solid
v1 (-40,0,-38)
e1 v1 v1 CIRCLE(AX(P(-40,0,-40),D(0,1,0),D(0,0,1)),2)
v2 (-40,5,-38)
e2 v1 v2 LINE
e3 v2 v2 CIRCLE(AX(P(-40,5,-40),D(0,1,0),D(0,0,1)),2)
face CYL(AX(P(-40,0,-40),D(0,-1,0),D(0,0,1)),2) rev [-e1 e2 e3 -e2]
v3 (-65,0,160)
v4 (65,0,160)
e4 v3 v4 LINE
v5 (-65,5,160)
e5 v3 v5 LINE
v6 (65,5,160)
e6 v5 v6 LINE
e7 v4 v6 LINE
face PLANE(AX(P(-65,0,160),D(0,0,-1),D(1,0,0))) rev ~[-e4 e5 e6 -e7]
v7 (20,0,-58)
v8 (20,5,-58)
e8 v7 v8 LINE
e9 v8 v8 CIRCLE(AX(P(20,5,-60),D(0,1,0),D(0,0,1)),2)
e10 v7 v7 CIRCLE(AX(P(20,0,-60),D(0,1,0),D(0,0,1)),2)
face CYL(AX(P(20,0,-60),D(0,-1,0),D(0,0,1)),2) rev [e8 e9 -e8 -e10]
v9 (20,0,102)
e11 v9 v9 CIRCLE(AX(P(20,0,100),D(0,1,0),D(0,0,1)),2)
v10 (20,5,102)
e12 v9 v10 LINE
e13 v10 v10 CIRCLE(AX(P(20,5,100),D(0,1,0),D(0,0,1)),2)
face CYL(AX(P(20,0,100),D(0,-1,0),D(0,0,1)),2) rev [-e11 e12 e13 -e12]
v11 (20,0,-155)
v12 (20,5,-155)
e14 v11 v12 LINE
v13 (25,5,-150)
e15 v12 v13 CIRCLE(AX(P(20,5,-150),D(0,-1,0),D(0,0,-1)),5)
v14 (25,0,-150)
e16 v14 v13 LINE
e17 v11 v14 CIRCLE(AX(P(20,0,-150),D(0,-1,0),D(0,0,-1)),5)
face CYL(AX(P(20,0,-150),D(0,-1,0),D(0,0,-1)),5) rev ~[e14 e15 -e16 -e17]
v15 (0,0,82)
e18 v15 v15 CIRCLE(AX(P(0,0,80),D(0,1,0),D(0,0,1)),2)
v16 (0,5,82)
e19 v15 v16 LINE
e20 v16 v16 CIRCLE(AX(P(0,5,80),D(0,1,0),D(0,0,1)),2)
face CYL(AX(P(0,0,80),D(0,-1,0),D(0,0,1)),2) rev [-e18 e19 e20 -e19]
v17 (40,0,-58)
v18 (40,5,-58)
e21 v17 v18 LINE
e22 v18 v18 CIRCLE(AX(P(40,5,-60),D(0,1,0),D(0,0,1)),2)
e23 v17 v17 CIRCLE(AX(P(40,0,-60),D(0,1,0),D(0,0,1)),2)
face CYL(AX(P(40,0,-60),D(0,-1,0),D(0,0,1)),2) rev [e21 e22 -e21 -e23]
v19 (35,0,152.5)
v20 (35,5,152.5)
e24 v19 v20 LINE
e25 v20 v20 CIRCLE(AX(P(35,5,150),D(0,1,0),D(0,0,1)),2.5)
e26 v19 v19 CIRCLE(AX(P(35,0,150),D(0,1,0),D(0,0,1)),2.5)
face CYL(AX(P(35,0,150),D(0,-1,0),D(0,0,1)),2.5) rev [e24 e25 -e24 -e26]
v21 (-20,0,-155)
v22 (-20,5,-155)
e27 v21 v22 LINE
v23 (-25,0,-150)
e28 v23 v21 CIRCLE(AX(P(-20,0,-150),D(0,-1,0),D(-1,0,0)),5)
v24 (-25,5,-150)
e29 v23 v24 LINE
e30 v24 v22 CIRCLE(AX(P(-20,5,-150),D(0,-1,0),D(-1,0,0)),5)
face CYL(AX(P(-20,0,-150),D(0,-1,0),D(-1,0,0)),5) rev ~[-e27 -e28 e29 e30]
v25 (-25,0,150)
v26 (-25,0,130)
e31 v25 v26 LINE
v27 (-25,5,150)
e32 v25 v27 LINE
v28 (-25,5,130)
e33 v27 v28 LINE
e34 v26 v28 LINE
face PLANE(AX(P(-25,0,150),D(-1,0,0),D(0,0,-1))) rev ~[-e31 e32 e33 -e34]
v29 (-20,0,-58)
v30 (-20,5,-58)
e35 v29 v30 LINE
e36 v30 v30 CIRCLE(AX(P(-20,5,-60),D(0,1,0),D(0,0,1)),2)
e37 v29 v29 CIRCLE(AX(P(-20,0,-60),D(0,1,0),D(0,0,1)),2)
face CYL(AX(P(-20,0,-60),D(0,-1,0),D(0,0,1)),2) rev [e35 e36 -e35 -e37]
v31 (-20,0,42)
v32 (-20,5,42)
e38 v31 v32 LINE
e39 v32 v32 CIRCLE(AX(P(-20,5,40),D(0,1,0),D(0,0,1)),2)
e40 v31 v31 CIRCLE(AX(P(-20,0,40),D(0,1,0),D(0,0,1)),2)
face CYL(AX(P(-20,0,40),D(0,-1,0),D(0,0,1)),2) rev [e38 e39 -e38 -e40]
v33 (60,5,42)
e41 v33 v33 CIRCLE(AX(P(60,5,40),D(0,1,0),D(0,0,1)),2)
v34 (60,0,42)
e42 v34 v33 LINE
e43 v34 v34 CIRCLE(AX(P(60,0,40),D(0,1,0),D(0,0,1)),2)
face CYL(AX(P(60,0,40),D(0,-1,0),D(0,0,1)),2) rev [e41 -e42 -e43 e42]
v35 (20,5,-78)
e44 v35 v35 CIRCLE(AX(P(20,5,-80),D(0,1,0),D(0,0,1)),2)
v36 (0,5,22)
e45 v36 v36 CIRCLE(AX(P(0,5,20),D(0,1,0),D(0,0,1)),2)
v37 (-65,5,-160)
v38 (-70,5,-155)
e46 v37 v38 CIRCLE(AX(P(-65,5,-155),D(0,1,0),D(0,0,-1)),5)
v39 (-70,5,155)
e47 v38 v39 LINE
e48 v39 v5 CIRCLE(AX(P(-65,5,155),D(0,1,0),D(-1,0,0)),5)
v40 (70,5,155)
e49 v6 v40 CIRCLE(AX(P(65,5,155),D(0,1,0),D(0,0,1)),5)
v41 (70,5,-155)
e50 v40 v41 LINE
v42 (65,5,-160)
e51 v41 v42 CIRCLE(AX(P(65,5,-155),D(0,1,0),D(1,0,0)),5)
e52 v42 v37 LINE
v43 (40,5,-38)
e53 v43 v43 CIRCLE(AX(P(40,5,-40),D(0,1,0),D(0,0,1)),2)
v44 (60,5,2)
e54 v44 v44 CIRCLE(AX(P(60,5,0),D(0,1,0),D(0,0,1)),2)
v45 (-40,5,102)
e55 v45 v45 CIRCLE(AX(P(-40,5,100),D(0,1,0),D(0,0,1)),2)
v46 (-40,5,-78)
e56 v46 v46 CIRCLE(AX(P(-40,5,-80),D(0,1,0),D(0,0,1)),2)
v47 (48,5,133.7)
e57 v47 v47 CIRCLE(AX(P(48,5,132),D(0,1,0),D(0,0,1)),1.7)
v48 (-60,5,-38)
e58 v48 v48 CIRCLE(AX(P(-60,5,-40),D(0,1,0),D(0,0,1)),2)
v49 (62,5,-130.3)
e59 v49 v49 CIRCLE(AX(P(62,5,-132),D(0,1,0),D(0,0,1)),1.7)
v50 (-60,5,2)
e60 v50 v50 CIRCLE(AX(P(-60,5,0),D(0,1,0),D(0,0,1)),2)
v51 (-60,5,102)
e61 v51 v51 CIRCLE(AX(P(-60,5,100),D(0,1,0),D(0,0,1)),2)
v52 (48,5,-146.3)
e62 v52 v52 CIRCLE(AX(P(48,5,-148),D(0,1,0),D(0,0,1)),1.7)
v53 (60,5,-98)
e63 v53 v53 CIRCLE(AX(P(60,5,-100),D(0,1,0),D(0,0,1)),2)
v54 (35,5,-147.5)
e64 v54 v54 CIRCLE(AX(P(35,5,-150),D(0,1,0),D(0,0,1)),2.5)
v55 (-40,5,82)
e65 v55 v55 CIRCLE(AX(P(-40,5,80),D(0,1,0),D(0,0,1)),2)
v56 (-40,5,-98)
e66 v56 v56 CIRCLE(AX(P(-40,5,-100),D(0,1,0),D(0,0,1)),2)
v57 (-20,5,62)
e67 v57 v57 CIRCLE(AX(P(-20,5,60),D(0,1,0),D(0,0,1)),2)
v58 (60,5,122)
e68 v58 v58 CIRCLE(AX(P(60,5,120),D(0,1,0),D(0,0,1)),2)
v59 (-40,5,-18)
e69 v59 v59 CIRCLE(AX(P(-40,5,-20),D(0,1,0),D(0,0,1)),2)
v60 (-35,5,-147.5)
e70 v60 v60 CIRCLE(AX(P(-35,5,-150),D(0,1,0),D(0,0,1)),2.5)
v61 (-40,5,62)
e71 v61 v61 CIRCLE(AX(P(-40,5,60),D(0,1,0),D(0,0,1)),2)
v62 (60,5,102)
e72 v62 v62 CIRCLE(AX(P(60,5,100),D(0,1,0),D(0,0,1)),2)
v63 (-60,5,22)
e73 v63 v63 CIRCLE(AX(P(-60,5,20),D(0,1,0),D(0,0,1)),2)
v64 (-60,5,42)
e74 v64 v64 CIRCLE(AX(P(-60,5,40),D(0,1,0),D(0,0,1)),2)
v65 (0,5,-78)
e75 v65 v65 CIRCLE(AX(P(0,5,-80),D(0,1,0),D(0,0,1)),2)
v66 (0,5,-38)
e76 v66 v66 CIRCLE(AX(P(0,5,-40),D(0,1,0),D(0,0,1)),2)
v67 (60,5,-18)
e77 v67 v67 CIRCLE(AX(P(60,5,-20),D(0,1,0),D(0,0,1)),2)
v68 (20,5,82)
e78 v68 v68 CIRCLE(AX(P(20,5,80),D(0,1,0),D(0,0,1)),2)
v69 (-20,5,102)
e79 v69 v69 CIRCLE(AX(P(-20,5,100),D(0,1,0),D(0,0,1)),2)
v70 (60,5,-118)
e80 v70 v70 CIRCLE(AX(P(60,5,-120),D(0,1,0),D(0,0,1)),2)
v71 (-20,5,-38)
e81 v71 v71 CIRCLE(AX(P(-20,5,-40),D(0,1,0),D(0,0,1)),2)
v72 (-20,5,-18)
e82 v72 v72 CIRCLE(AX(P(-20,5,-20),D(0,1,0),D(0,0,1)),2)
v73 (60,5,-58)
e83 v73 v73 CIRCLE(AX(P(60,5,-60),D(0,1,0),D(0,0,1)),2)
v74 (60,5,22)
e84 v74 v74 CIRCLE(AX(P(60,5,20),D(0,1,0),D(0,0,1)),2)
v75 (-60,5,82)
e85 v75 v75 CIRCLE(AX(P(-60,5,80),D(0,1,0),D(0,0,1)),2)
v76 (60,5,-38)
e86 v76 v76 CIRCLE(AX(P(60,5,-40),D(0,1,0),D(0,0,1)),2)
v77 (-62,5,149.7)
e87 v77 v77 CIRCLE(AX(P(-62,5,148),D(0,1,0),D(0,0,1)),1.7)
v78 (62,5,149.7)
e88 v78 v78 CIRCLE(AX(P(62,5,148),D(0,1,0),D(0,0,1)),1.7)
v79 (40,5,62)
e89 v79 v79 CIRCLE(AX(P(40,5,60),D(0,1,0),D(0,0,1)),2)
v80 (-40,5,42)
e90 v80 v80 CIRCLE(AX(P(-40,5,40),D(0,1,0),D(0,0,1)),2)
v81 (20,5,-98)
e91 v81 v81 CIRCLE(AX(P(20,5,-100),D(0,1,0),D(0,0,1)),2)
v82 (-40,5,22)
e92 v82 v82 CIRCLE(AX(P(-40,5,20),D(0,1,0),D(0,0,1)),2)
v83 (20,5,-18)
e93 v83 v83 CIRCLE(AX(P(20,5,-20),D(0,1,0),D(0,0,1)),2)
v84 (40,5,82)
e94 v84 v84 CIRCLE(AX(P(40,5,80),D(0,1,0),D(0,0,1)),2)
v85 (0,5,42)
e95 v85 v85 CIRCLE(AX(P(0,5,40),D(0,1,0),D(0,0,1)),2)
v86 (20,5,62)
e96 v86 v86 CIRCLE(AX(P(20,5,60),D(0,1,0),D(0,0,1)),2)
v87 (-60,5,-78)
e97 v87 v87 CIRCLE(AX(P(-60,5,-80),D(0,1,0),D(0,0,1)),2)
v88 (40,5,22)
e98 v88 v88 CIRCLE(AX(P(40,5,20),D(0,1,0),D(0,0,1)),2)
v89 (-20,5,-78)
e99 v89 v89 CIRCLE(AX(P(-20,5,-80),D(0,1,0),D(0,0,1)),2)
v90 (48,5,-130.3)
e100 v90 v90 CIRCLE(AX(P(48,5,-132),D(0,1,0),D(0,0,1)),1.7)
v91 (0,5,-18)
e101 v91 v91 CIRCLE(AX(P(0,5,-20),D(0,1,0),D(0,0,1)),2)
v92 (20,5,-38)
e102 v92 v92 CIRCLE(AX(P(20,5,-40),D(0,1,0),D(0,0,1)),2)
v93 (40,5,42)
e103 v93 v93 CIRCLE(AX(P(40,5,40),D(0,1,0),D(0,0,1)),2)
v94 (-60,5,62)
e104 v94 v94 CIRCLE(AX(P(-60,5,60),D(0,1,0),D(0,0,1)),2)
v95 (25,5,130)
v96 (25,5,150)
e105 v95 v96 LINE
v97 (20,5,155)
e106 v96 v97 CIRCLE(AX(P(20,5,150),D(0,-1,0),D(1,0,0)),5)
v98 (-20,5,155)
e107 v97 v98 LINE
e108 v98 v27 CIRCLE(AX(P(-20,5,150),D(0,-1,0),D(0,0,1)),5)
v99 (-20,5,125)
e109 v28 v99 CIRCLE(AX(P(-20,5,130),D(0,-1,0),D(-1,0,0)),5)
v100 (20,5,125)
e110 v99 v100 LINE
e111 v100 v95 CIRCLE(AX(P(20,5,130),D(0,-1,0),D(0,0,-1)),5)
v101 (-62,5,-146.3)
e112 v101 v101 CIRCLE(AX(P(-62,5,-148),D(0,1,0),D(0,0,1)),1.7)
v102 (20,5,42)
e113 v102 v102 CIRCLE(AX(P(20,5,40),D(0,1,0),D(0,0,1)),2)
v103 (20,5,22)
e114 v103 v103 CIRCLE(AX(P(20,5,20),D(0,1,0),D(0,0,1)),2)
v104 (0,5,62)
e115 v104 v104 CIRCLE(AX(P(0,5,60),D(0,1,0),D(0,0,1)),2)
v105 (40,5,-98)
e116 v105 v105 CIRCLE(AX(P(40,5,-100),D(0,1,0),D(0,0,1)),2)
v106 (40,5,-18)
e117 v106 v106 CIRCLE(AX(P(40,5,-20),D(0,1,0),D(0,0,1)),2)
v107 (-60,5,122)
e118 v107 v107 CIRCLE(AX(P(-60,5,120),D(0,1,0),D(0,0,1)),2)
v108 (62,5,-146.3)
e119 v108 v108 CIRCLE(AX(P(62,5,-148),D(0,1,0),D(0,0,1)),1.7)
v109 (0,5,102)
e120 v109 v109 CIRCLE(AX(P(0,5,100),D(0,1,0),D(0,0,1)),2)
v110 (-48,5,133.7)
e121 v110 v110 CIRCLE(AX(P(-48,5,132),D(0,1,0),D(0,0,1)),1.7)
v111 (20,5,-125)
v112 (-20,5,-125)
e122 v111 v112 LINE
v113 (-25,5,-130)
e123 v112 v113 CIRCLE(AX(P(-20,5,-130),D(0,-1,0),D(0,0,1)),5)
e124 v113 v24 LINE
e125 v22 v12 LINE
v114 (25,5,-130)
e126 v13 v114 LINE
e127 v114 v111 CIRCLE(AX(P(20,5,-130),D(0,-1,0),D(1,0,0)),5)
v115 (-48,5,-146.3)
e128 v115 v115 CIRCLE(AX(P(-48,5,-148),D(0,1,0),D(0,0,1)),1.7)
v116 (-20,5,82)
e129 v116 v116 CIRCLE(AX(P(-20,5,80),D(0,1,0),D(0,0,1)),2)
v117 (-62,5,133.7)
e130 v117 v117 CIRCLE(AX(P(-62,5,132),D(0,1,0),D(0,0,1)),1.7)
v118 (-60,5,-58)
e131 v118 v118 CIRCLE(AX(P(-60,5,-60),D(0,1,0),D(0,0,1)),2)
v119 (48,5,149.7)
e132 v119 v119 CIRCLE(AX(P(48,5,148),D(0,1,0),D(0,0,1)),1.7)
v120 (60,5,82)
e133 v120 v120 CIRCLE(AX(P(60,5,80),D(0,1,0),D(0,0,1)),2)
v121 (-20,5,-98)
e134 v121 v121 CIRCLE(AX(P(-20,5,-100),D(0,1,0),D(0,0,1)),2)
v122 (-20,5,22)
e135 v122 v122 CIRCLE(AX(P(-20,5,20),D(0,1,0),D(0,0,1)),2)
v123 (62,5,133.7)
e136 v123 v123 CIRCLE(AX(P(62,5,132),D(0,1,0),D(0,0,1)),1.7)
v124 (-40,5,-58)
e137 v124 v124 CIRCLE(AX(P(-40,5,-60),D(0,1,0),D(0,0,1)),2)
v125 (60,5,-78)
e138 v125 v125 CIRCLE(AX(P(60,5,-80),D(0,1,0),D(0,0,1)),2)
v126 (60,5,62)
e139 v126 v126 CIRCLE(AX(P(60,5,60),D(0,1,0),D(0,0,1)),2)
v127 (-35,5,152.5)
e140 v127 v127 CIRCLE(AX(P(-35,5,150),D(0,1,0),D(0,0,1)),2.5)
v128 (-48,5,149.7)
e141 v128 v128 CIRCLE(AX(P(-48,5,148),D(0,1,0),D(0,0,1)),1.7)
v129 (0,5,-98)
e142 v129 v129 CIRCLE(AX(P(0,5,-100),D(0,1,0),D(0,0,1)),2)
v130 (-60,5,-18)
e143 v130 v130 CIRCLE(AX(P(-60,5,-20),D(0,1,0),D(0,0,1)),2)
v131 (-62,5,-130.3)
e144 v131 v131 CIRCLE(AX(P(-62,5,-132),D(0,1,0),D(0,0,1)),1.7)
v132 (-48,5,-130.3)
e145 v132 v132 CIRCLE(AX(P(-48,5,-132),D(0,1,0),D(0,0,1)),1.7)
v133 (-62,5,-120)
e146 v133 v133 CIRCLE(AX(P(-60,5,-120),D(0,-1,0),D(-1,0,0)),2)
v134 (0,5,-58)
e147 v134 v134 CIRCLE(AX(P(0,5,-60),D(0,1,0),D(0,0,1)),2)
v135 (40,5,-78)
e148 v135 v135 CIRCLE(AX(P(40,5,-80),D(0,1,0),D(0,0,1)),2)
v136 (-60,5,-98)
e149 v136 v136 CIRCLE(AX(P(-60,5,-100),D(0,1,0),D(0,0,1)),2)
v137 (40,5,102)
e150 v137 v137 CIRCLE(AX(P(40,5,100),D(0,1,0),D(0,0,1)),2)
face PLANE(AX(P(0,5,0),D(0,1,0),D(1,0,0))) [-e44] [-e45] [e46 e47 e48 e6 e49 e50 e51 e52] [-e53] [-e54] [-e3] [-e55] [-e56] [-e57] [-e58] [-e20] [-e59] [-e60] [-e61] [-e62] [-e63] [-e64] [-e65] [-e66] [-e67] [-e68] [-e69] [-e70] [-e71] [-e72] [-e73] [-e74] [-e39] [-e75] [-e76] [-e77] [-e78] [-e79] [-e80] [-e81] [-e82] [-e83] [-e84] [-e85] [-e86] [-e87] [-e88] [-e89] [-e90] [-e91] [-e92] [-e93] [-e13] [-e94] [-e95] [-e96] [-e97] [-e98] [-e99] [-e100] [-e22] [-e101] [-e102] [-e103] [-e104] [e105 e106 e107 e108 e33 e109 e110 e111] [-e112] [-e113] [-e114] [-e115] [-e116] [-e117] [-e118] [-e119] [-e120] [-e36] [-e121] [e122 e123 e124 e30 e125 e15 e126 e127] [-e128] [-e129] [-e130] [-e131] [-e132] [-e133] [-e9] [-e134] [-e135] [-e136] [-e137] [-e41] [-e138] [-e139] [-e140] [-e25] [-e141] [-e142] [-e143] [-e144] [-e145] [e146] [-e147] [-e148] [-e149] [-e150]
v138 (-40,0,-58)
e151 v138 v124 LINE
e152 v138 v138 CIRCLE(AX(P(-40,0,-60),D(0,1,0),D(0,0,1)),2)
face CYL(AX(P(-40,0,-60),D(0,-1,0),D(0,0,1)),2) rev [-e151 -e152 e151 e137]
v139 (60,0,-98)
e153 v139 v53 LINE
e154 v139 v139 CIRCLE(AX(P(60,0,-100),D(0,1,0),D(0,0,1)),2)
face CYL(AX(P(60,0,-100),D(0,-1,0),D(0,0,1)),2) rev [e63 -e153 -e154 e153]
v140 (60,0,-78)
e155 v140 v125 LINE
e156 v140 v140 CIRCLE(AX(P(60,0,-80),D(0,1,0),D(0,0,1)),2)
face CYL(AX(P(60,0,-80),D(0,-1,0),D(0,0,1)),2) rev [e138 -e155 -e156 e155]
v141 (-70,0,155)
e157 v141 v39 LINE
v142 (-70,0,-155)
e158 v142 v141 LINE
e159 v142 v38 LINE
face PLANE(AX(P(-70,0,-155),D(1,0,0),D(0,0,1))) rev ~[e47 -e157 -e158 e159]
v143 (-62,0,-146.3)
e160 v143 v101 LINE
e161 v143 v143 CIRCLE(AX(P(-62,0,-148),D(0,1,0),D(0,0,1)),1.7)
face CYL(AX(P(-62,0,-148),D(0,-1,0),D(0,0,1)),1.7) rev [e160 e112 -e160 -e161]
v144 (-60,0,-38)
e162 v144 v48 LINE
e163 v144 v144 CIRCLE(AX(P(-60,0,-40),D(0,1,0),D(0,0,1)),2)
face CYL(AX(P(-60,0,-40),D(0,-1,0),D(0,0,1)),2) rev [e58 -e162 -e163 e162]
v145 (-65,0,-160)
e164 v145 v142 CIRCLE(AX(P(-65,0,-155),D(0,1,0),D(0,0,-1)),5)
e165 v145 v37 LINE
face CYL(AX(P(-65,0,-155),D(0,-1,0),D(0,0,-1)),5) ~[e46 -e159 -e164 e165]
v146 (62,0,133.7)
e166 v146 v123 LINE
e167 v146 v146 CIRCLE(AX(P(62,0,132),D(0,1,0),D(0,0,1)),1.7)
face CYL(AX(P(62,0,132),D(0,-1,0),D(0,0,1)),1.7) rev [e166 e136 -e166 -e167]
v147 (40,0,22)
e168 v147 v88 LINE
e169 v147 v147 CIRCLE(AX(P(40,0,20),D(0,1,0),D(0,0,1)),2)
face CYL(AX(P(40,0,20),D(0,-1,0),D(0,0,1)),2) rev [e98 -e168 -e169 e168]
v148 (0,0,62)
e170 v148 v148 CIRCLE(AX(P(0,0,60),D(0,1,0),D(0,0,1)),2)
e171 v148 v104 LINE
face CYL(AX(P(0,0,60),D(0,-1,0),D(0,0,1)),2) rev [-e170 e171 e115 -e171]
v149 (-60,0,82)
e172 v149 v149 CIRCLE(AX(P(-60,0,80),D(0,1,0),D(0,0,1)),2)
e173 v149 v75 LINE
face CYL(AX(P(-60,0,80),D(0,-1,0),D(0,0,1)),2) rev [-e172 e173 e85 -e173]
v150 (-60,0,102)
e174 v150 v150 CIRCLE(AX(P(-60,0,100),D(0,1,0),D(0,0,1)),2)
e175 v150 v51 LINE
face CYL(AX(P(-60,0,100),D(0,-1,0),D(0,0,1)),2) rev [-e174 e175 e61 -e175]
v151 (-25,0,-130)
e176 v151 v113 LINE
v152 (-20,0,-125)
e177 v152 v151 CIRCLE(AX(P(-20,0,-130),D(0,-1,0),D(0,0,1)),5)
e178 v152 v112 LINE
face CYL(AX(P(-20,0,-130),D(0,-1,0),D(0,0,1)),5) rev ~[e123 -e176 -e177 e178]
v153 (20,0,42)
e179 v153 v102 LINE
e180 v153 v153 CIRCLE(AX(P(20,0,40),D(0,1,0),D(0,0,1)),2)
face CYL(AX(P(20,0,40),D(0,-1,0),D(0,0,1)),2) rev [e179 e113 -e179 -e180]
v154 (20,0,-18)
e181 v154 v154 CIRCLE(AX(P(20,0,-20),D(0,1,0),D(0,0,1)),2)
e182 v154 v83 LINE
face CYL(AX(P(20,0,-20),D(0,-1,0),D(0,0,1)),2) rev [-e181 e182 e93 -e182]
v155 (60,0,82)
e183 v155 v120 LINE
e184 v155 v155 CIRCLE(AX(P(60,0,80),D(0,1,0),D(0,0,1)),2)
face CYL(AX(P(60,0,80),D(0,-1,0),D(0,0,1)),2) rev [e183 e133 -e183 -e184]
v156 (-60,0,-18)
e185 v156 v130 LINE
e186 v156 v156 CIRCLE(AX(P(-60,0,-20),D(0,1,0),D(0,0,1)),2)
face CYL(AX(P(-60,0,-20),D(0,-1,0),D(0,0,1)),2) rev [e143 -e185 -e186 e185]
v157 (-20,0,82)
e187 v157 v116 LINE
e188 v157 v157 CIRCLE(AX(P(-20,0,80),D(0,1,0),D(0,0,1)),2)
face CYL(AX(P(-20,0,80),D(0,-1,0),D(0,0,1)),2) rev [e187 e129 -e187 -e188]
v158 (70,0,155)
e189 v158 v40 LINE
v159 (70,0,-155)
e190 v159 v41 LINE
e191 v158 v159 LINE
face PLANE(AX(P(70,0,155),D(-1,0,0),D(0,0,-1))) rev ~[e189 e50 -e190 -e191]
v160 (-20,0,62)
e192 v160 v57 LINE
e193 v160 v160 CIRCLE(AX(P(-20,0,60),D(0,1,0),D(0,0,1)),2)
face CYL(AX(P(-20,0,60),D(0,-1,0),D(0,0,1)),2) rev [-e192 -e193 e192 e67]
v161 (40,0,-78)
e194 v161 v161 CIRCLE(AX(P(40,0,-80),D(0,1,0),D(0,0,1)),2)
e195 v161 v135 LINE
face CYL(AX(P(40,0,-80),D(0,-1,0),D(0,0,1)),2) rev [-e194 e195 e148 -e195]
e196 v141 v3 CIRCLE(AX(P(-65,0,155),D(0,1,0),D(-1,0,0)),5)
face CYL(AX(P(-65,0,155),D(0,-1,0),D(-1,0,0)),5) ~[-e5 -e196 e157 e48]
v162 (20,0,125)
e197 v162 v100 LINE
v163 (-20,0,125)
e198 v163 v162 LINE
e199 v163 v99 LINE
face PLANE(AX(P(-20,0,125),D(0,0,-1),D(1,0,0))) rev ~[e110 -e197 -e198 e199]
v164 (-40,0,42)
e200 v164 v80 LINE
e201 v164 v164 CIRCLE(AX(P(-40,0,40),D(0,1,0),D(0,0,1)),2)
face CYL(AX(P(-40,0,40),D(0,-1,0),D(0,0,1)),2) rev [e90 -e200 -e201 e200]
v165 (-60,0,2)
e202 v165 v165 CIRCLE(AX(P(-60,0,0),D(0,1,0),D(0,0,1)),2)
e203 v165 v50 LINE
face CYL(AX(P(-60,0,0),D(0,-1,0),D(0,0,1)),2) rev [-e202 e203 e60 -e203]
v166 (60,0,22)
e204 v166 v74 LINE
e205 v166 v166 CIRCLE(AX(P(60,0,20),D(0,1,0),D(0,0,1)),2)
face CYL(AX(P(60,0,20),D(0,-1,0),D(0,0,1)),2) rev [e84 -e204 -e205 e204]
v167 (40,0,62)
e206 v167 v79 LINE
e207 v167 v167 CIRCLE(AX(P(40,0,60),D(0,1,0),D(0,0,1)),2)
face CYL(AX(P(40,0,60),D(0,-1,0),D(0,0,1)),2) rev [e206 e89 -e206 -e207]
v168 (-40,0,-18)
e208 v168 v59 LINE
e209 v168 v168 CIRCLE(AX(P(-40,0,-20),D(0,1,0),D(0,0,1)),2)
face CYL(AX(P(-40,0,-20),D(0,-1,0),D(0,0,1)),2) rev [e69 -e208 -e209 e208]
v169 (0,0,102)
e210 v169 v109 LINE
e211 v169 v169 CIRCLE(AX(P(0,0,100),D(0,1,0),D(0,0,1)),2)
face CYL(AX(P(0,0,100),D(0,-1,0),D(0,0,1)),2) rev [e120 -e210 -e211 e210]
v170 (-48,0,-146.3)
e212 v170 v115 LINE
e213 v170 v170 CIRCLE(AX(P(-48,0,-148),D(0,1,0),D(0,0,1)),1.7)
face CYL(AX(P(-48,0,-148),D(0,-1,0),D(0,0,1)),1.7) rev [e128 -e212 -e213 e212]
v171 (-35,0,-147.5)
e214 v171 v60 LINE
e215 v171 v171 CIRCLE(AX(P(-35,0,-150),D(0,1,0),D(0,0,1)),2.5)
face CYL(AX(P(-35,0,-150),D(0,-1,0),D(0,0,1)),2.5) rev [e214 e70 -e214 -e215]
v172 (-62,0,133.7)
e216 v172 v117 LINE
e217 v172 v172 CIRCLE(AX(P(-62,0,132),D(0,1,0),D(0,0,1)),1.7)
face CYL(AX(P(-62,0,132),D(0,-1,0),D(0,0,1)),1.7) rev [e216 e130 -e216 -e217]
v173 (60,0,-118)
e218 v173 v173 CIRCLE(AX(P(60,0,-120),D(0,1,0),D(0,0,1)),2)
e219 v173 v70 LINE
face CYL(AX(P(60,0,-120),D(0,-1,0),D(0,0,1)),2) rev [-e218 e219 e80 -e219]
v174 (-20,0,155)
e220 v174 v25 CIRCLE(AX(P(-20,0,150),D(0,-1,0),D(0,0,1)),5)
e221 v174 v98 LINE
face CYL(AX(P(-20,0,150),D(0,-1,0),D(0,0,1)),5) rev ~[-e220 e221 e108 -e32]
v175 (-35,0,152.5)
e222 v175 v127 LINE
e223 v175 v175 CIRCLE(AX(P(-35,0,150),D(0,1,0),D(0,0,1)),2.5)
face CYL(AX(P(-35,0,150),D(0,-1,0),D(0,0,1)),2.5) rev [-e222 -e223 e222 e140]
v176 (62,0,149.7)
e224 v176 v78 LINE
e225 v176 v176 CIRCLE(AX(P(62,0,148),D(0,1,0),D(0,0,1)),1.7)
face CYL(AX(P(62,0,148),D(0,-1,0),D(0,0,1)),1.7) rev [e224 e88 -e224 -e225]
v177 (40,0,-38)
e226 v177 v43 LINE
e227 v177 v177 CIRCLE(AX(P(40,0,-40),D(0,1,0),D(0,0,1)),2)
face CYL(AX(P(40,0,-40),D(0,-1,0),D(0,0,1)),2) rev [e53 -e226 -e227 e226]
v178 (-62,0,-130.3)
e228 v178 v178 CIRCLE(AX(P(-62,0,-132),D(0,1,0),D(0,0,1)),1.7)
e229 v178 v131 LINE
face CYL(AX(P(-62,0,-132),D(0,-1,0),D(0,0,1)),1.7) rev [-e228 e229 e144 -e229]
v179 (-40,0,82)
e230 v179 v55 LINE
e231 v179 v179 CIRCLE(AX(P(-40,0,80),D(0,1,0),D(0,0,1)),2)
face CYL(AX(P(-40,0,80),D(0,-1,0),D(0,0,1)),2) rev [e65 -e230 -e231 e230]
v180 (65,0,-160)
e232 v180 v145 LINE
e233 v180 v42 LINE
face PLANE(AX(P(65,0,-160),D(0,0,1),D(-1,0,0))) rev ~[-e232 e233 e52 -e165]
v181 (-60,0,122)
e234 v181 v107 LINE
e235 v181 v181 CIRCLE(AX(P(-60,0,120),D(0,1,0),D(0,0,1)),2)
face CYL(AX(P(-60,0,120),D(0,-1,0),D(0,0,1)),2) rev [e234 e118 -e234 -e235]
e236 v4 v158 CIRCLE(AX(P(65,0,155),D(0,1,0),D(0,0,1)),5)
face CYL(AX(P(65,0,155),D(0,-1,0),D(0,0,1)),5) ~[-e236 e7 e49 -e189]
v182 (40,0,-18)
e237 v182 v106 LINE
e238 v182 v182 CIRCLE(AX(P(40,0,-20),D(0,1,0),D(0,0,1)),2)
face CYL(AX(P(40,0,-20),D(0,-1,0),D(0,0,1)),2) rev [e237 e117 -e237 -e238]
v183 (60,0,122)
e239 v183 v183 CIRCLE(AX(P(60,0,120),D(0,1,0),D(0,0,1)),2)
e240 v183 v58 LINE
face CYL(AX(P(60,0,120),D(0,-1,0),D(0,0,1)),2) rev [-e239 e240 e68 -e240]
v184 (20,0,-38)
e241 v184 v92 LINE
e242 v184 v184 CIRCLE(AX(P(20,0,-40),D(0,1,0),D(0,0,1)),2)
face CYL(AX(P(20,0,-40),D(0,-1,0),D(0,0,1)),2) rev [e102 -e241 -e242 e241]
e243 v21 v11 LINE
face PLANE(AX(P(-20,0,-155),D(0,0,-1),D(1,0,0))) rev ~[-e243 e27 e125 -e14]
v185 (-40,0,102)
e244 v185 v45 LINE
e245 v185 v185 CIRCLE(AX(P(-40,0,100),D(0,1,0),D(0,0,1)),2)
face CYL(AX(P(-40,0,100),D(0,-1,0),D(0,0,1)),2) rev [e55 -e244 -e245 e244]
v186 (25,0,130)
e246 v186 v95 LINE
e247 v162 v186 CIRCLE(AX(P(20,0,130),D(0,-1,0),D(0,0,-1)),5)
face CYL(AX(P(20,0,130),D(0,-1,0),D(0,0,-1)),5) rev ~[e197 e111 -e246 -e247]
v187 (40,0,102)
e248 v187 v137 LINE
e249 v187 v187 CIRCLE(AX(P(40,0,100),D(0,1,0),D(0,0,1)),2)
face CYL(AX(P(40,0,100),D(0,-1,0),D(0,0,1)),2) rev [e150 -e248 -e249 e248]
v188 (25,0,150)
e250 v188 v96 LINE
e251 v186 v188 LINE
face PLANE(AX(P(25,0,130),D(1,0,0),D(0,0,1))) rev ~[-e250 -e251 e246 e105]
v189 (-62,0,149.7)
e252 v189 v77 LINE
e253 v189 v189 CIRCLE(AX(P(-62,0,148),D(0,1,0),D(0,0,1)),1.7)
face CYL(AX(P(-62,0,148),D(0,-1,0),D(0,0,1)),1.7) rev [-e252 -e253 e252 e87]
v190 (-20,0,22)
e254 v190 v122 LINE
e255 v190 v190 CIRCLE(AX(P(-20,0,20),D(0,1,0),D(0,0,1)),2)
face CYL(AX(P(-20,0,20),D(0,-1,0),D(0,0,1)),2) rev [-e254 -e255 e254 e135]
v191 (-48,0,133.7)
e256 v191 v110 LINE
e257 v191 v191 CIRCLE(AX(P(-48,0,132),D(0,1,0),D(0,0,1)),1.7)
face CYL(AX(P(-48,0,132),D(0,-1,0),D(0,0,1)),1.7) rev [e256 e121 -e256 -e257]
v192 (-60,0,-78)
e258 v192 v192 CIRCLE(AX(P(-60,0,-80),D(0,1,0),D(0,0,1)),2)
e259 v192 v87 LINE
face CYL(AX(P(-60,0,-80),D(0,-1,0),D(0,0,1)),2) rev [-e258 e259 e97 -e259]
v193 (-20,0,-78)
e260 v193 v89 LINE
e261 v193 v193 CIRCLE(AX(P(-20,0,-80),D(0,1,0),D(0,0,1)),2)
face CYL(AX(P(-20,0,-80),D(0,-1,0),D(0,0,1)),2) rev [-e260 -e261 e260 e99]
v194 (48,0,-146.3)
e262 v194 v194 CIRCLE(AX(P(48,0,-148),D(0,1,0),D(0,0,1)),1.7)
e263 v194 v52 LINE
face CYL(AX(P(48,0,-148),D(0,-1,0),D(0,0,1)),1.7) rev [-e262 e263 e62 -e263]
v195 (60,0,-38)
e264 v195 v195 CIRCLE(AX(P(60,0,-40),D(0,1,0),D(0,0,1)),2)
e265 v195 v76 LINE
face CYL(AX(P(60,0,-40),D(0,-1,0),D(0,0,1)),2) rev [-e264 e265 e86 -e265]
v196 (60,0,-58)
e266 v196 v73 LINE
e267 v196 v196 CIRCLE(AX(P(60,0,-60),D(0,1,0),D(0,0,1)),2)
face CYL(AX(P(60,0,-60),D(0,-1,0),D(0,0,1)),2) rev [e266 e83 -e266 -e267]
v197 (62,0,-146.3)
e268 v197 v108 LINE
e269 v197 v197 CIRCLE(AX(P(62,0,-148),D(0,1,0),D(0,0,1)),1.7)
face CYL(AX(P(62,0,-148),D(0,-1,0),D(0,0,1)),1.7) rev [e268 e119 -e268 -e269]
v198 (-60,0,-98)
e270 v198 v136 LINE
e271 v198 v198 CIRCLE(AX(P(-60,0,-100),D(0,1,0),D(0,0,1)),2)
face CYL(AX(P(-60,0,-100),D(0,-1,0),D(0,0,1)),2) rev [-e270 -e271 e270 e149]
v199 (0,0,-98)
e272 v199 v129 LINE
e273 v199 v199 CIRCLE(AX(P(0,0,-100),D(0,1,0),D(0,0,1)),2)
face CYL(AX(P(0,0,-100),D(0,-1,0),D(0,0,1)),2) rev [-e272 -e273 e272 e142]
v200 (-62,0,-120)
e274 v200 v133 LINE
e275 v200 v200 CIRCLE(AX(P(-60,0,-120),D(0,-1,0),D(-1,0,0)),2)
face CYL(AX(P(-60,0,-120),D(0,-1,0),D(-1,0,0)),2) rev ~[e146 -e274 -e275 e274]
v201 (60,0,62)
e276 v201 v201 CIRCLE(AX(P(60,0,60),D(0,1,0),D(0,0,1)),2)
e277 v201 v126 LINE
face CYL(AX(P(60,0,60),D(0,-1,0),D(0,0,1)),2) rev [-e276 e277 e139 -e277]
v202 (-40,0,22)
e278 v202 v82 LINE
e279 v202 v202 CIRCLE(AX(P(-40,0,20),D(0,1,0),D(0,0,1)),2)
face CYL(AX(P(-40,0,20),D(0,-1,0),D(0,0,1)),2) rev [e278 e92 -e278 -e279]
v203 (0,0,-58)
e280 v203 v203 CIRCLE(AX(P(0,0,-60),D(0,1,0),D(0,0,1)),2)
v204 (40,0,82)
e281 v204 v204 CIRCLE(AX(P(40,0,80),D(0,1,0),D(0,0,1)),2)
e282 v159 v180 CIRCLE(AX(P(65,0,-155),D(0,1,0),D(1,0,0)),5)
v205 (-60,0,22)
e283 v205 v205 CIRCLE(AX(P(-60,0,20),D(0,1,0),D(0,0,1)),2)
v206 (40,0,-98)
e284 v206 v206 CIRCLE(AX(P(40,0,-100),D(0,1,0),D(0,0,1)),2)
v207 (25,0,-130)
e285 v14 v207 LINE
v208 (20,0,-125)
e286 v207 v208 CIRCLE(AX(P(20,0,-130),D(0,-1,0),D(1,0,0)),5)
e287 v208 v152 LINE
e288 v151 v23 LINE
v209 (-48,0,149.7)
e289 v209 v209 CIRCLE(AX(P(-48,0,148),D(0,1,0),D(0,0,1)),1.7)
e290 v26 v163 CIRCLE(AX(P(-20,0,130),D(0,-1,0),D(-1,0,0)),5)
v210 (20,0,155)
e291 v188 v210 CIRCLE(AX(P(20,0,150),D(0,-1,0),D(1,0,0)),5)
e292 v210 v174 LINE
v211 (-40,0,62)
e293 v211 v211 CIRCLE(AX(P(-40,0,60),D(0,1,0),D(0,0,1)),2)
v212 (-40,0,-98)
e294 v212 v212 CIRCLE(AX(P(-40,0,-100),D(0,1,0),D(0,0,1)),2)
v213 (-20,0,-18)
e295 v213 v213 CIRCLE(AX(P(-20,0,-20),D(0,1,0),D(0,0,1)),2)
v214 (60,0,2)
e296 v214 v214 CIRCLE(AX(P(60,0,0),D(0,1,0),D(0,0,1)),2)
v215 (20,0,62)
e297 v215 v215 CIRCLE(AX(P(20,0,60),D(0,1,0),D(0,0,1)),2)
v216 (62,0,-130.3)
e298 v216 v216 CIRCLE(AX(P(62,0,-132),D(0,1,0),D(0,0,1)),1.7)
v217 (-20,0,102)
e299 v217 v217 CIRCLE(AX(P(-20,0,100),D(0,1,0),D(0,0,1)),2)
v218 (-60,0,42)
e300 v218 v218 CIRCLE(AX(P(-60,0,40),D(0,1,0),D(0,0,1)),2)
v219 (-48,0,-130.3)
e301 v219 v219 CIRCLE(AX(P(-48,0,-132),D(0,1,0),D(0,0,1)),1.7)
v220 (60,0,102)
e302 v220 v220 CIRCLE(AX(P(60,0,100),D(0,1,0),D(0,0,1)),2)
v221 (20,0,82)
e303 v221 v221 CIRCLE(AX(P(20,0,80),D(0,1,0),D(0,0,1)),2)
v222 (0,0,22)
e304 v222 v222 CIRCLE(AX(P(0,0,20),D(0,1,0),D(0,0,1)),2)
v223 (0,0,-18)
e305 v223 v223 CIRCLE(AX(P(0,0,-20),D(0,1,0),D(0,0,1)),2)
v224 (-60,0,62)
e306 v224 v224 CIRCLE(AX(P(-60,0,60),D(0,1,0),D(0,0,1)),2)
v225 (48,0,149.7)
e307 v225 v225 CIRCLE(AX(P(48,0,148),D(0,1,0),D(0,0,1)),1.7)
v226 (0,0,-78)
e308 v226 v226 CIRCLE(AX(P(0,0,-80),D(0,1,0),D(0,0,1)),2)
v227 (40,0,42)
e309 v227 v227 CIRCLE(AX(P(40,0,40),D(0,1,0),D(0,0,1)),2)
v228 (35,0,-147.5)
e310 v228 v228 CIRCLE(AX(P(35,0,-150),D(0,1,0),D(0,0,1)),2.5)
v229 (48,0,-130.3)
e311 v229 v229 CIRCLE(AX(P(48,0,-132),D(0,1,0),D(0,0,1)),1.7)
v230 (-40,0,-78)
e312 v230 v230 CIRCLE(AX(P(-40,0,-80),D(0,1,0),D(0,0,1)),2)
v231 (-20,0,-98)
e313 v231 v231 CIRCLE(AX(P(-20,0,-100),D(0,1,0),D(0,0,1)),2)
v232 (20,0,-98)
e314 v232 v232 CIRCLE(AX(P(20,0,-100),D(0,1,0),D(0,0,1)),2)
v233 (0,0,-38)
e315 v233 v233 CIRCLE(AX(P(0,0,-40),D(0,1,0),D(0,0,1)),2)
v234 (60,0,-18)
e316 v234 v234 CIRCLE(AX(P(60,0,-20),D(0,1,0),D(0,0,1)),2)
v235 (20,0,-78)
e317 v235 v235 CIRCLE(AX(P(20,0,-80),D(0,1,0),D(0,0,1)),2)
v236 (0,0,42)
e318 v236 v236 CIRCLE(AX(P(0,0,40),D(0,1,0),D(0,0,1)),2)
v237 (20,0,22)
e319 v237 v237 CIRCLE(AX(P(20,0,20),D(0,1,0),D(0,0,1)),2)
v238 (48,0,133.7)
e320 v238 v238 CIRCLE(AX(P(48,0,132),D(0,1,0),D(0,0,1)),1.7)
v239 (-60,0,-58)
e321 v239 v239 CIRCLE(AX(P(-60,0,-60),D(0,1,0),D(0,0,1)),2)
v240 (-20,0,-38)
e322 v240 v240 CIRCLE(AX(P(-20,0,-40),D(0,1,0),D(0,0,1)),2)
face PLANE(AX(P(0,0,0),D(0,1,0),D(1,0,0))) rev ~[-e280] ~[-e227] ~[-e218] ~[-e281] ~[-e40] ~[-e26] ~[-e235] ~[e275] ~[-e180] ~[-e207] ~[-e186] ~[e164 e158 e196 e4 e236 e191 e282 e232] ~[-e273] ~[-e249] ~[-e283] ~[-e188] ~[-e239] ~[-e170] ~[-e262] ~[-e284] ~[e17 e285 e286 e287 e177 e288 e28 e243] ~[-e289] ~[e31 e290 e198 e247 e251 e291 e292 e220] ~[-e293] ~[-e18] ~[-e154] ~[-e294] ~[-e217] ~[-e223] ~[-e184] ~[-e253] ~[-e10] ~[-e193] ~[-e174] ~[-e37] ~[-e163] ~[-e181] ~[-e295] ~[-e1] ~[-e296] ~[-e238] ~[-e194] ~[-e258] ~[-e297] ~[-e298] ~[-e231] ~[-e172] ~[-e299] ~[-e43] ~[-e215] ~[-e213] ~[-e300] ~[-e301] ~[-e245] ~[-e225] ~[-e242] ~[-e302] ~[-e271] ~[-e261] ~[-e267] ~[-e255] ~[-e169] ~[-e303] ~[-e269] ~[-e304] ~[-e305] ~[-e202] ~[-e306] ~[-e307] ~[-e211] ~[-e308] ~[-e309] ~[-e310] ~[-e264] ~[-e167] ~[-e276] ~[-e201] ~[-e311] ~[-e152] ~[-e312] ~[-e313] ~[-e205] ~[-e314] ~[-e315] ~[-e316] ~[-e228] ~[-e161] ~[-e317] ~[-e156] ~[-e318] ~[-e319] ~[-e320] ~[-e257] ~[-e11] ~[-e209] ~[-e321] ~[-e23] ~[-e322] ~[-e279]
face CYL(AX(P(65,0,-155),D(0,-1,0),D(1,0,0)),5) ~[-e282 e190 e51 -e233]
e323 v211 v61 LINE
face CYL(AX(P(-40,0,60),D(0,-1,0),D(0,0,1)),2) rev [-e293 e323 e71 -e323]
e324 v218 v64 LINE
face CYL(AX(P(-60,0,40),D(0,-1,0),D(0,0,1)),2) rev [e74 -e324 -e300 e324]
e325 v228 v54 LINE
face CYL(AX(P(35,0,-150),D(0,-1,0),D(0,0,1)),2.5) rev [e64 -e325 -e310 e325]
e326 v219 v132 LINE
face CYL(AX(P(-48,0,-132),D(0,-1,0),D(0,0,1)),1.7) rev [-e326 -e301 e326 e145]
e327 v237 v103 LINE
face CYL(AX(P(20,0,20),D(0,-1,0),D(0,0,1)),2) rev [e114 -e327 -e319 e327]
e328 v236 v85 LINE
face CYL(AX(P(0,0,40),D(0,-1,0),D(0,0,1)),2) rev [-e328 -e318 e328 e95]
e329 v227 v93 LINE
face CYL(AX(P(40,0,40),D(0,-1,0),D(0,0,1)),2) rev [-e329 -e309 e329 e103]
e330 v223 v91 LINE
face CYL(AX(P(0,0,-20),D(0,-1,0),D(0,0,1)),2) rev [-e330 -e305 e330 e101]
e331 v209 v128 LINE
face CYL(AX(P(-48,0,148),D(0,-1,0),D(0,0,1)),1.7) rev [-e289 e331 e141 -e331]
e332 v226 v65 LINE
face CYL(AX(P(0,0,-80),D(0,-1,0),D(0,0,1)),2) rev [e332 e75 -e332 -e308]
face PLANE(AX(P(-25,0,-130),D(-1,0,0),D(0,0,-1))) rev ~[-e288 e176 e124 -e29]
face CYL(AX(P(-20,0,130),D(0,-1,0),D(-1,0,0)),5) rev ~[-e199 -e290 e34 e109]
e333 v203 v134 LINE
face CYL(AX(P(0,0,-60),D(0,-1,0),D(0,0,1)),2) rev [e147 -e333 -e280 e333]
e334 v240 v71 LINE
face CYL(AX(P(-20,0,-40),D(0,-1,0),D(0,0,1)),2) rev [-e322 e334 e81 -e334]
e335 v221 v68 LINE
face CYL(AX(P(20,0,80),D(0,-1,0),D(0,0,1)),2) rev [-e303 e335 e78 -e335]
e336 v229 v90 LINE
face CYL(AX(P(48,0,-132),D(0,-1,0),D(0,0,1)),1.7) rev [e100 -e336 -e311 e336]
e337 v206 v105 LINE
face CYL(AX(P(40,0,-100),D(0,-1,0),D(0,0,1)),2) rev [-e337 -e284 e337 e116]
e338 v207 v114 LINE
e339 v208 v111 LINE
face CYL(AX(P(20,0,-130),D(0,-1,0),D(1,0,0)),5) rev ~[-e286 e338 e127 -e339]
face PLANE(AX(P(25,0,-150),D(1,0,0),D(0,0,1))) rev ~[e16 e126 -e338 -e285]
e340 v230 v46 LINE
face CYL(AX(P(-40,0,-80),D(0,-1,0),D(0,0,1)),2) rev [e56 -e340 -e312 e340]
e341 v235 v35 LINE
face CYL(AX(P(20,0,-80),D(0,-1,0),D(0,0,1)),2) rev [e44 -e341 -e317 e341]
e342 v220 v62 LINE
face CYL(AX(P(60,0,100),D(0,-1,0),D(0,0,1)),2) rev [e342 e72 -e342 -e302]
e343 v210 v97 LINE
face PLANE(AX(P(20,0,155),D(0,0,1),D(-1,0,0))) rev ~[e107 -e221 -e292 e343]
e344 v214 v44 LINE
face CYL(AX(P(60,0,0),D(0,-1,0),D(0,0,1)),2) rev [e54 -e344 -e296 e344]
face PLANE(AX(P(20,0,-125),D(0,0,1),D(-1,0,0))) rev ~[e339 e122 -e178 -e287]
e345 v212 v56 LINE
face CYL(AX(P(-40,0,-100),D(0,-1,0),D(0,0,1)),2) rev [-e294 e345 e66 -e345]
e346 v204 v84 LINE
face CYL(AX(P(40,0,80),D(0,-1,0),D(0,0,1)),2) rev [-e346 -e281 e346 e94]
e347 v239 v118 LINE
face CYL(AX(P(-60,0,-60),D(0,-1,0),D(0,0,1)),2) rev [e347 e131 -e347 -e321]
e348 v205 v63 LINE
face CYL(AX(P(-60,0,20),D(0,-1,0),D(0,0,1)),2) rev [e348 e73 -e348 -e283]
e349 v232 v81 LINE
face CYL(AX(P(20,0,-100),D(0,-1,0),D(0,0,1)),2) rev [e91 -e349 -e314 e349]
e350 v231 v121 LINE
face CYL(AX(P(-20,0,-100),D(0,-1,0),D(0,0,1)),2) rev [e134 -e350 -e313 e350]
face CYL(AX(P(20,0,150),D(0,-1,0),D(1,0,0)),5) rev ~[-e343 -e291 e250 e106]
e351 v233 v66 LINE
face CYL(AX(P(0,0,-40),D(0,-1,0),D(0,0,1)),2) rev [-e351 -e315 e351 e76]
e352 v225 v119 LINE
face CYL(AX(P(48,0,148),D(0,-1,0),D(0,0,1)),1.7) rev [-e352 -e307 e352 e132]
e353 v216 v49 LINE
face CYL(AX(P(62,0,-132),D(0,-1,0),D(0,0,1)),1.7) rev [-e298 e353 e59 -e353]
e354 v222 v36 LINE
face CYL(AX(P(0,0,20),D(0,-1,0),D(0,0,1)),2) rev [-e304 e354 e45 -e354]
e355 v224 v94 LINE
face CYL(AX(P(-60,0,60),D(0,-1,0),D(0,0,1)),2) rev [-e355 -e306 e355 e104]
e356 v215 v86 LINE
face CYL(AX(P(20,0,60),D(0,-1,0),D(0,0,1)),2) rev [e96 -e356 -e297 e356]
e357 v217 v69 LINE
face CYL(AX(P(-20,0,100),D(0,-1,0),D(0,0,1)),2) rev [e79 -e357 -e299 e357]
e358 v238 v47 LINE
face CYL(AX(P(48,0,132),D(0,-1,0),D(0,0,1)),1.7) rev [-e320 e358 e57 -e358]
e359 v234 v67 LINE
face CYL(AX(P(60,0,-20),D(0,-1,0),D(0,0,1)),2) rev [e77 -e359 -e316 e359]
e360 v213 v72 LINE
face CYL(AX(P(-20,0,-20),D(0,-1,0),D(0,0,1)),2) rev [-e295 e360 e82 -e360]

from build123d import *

# Parameters (mm, degrees)
SKETCH_1_R      = 1.7
SKETCH_1_R_2    = 2
SKETCH_1_R_3    = 2.5
EXTRUDE_2_DEPTH = 5


with BuildPart() as part:
    # 草图1 → 凸台-拉伸2 (new body)
    with BuildSketch(Plane(origin=(0, 0, 0), x_dir=(1, 0, 0), z_dir=(0, 1, 0))):
        with BuildLine():
            ThreePointArc((-65, 160), (-68.535533906, 158.535533906), (-70, 155))
            Line((-70, 155), (-70, 120))
            Line((-70, 120), (-70, 0))
            Line((-70, 0), (-70, -155))
            ThreePointArc((-70, -155), (-68.535533906, -158.535533906), (-65, -160))
            Line((-65, -160), (65, -160))
            ThreePointArc((65, -160), (68.535533906, -158.535533906), (70, -155))
            Line((70, -155), (70, 20))
            Line((70, 20), (70, 155))
            ThreePointArc((70, 155), (68.535533906, 158.535533906), (65, 160))
            Line((65, 160), (-65, 160))
        make_face()
        with Locations(Location((-62, -148, 0), (0, 0, 270))):
            Circle(SKETCH_1_R, mode=Mode.SUBTRACT)
        with Locations(Location((-48, -148, 0), (0, 0, 270))):
            Circle(SKETCH_1_R, mode=Mode.SUBTRACT)
        with Locations(Location((-62, -132, 0), (0, 0, 270))):
            Circle(SKETCH_1_R, mode=Mode.SUBTRACT)
        with Locations(Location((-60, -120, 0), (0, 0, 270))):
            Circle(SKETCH_1_R_2, mode=Mode.SUBTRACT)
        with Locations(Location((-48, -132, 0), (0, 0, 270))):
            Circle(SKETCH_1_R, mode=Mode.SUBTRACT)
        with Locations(Location((-35, -150, 0), (0, 0, 270))):
            Circle(SKETCH_1_R_3, mode=Mode.SUBTRACT)
        with Locations(Location((-60, -100, 0), (0, 0, 270))):
            Circle(SKETCH_1_R_2, mode=Mode.SUBTRACT)
        with Locations(Location((-60, -80, 0), (0, 0, 270))):
            Circle(SKETCH_1_R_2, mode=Mode.SUBTRACT)
        with Locations(Location((-40, -100, 0), (0, 0, 270))):
            Circle(SKETCH_1_R_2, mode=Mode.SUBTRACT)
        with Locations(Location((-40, -80, 0), (0, 0, 270))):
            Circle(SKETCH_1_R_2, mode=Mode.SUBTRACT)
        with BuildLine():
            Line((-20, -125), (20, -125))
            ThreePointArc((20, -125), (23.535533906, -126.464466094), (25, -130))
            Line((25, -130), (25, -150))
            ThreePointArc((25, -150), (23.535533906, -153.535533906), (20, -155))
            Line((20, -155), (-20, -155))
            ThreePointArc((-20, -155), (-23.535533906, -153.535533906), (-25, -150))
            Line((-25, -150), (-25, -130))
            ThreePointArc((-25, -130), (-23.535533906, -126.464466094), (-20, -125))
        make_face(mode=Mode.SUBTRACT)
        with Locations(Location((-20, -100, 0), (0, 0, 270))):
            Circle(SKETCH_1_R_2, mode=Mode.SUBTRACT)
        with Locations(Location((-20, -80, 0), (0, 0, 270))):
            Circle(SKETCH_1_R_2, mode=Mode.SUBTRACT)
        with Locations(Location((0, -100, 0), (0, 0, 270))):
            Circle(SKETCH_1_R_2, mode=Mode.SUBTRACT)
        with Locations(Location((0, -80, 0), (0, 0, 270))):
            Circle(SKETCH_1_R_2, mode=Mode.SUBTRACT)
        with Locations(Location((-60, -60, 0), (0, 0, 270))):
            Circle(SKETCH_1_R_2, mode=Mode.SUBTRACT)
        with Locations(Location((-60, -40, 0), (0, 0, 270))):
            Circle(SKETCH_1_R_2, mode=Mode.SUBTRACT)
        with Locations(Location((-40, -60, 0), (0, 0, 270))):
            Circle(SKETCH_1_R_2, mode=Mode.SUBTRACT)
        with Locations(Location((-40, -40, 0), (0, 0, 270))):
            Circle(SKETCH_1_R_2, mode=Mode.SUBTRACT)
        with Locations(Location((-60, -20, 0), (0, 0, 270))):
            Circle(SKETCH_1_R_2, mode=Mode.SUBTRACT)
        with Locations(Location((-40, -20, 0), (0, 0, 270))):
            Circle(SKETCH_1_R_2, mode=Mode.SUBTRACT)
        with Locations(Location((-20, -60, 0), (0, 0, 270))):
            Circle(SKETCH_1_R_2, mode=Mode.SUBTRACT)
        with Locations(Location((-20, -40, 0), (0, 0, 270))):
            Circle(SKETCH_1_R_2, mode=Mode.SUBTRACT)
        with Locations(Location((0, -60, 0), (0, 0, 270))):
            Circle(SKETCH_1_R_2, mode=Mode.SUBTRACT)
        with Locations(Location((0, -40, 0), (0, 0, 270))):
            Circle(SKETCH_1_R_2, mode=Mode.SUBTRACT)
        with Locations(Location((-20, -20, 0), (0, 0, 270))):
            Circle(SKETCH_1_R_2, mode=Mode.SUBTRACT)
        with Locations(Location((0, -20, 0), (0, 0, 270))):
            Circle(SKETCH_1_R_2, mode=Mode.SUBTRACT)
        with Locations(Location((20, -100, 0), (0, 0, 270))):
            Circle(SKETCH_1_R_2, mode=Mode.SUBTRACT)
        with Locations(Location((20, -80, 0), (0, 0, 270))):
            Circle(SKETCH_1_R_2, mode=Mode.SUBTRACT)
        with Locations(Location((35, -150, 0), (0, 0, 270))):
            Circle(SKETCH_1_R_3, mode=Mode.SUBTRACT)
        with Locations(Location((48, -148, 0), (0, 0, 270))):
            Circle(SKETCH_1_R, mode=Mode.SUBTRACT)
        with Locations(Location((62, -148, 0), (0, 0, 270))):
            Circle(SKETCH_1_R, mode=Mode.SUBTRACT)
        with Locations(Location((48, -132, 0), (0, 0, 270))):
            Circle(SKETCH_1_R, mode=Mode.SUBTRACT)
        with Locations(Location((62, -132, 0), (0, 0, 270))):
            Circle(SKETCH_1_R, mode=Mode.SUBTRACT)
        with Locations(Location((60, -120, 0), (0, 0, 270))):
            Circle(SKETCH_1_R_2, mode=Mode.SUBTRACT)
        with Locations(Location((40, -100, 0), (0, 0, 270))):
            Circle(SKETCH_1_R_2, mode=Mode.SUBTRACT)
        with Locations(Location((40, -80, 0), (0, 0, 270))):
            Circle(SKETCH_1_R_2, mode=Mode.SUBTRACT)
        with Locations(Location((60, -100, 0), (0, 0, 270))):
            Circle(SKETCH_1_R_2, mode=Mode.SUBTRACT)
        with Locations(Location((60, -80, 0), (0, 0, 270))):
            Circle(SKETCH_1_R_2, mode=Mode.SUBTRACT)
        with Locations(Location((20, -60, 0), (0, 0, 270))):
            Circle(SKETCH_1_R_2, mode=Mode.SUBTRACT)
        with Locations(Location((20, -40, 0), (0, 0, 270))):
            Circle(SKETCH_1_R_2, mode=Mode.SUBTRACT)
        with Locations(Location((20, -20, 0), (0, 0, 270))):
            Circle(SKETCH_1_R_2, mode=Mode.SUBTRACT)
        with Locations(Location((40, -60, 0), (0, 0, 270))):
            Circle(SKETCH_1_R_2, mode=Mode.SUBTRACT)
        with Locations(Location((40, -40, 0), (0, 0, 270))):
            Circle(SKETCH_1_R_2, mode=Mode.SUBTRACT)
        with Locations(Location((60, -60, 0), (0, 0, 270))):
            Circle(SKETCH_1_R_2, mode=Mode.SUBTRACT)
        with Locations(Location((60, -40, 0), (0, 0, 270))):
            Circle(SKETCH_1_R_2, mode=Mode.SUBTRACT)
        with Locations(Location((40, -20, 0), (0, 0, 270))):
            Circle(SKETCH_1_R_2, mode=Mode.SUBTRACT)
        with Locations(Location((60, -20, 0), (0, 0, 270))):
            Circle(SKETCH_1_R_2, mode=Mode.SUBTRACT)
        with Locations(Location((-60, 0, 0), (0, 0, 270))):
            Circle(SKETCH_1_R_2, mode=Mode.SUBTRACT)
        with Locations(Location((-60, 20, 0), (0, 0, 270))):
            Circle(SKETCH_1_R_2, mode=Mode.SUBTRACT)
        with Locations(Location((-40, 20, 0), (0, 0, 270))):
            Circle(SKETCH_1_R_2, mode=Mode.SUBTRACT)
        with Locations(Location((-60, 40, 0), (0, 0, 270))):
            Circle(SKETCH_1_R_2, mode=Mode.SUBTRACT)
        with Locations(Location((-60, 60, 0), (0, 0, 270))):
            Circle(SKETCH_1_R_2, mode=Mode.SUBTRACT)
        with Locations(Location((-40, 40, 0), (0, 0, 270))):
            Circle(SKETCH_1_R_2, mode=Mode.SUBTRACT)
        with Locations(Location((-40, 60, 0), (0, 0, 270))):
            Circle(SKETCH_1_R_2, mode=Mode.SUBTRACT)
        with Locations(Location((-20, 20, 0), (0, 0, 270))):
            Circle(SKETCH_1_R_2, mode=Mode.SUBTRACT)
        with Locations(Location((0, 20, 0), (0, 0, 270))):
            Circle(SKETCH_1_R_2, mode=Mode.SUBTRACT)
        with Locations(Location((-20, 40, 0), (0, 0, 270))):
            Circle(SKETCH_1_R_2, mode=Mode.SUBTRACT)
        with Locations(Location((-20, 60, 0), (0, 0, 270))):
            Circle(SKETCH_1_R_2, mode=Mode.SUBTRACT)
        with Locations(Location((0, 40, 0), (0, 0, 270))):
            Circle(SKETCH_1_R_2, mode=Mode.SUBTRACT)
        with Locations(Location((0, 60, 0), (0, 0, 270))):
            Circle(SKETCH_1_R_2, mode=Mode.SUBTRACT)
        with Locations(Location((-60, 80, 0), (0, 0, 270))):
            Circle(SKETCH_1_R_2, mode=Mode.SUBTRACT)
        with Locations(Location((-60, 100, 0), (0, 0, 270))):
            Circle(SKETCH_1_R_2, mode=Mode.SUBTRACT)
        with Locations(Location((-40, 80, 0), (0, 0, 270))):
            Circle(SKETCH_1_R_2, mode=Mode.SUBTRACT)
        with Locations(Location((-40, 100, 0), (0, 0, 270))):
            Circle(SKETCH_1_R_2, mode=Mode.SUBTRACT)
        with BuildLine():
            ThreePointArc((-58, 120), (-60, 118), (-62, 120))
            ThreePointArc((-62, 120), (-60, 122), (-58, 120))
        make_face(mode=Mode.SUBTRACT)
        with Locations(Location((-62, 132, 0), (0, 0, 270))):
            Circle(SKETCH_1_R, mode=Mode.SUBTRACT)
        with Locations(Location((-48, 132, 0), (0, 0, 270))):
            Circle(SKETCH_1_R, mode=Mode.SUBTRACT)
        with Locations(Location((-62, 148, 0), (0, 0, 270))):
            Circle(SKETCH_1_R, mode=Mode.SUBTRACT)
        with Locations(Location((-48, 148, 0), (0, 0, 270))):
            Circle(SKETCH_1_R, mode=Mode.SUBTRACT)
        with Locations(Location((-35, 150, 0), (0, 0, 270))):
            Circle(SKETCH_1_R_3, mode=Mode.SUBTRACT)
        with Locations(Location((-20, 80, 0), (0, 0, 270))):
            Circle(SKETCH_1_R_2, mode=Mode.SUBTRACT)
        with Locations(Location((-20, 100, 0), (0, 0, 270))):
            Circle(SKETCH_1_R_2, mode=Mode.SUBTRACT)
        with Locations(Location((0, 80, 0), (0, 0, 270))):
            Circle(SKETCH_1_R_2, mode=Mode.SUBTRACT)
        with Locations(Location((0, 100, 0), (0, 0, 270))):
            Circle(SKETCH_1_R_2, mode=Mode.SUBTRACT)
        with BuildLine():
            ThreePointArc((-20, 125), (-23.535533906, 126.464466094), (-25, 130))
            Line((-25, 130), (-25, 150))
            ThreePointArc((-25, 150), (-23.535533906, 153.535533906), (-20, 155))
            Line((-20, 155), (20, 155))
            ThreePointArc((20, 155), (23.535533906, 153.535533906), (25, 150))
            Line((25, 150), (25, 130))
            ThreePointArc((25, 130), (23.535533906, 126.464466094), (20, 125))
            Line((20, 125), (-20, 125))
        make_face(mode=Mode.SUBTRACT)
        with Locations(Location((20, 20, 0), (0, 0, 270))):
            Circle(SKETCH_1_R_2, mode=Mode.SUBTRACT)
        with Locations(Location((20, 40, 0), (0, 0, 270))):
            Circle(SKETCH_1_R_2, mode=Mode.SUBTRACT)
        with Locations(Location((20, 60, 0), (0, 0, 270))):
            Circle(SKETCH_1_R_2, mode=Mode.SUBTRACT)
        with Locations(Location((40, 20, 0), (0, 0, 270))):
            Circle(SKETCH_1_R_2, mode=Mode.SUBTRACT)
        with Locations(Location((60, 0, 0), (0, 0, 270))):
            Circle(SKETCH_1_R_2, mode=Mode.SUBTRACT)
        with Locations(Location((60, 20, 0), (0, 0, 270))):
            Circle(SKETCH_1_R_2, mode=Mode.SUBTRACT)
        with Locations(Location((40, 40, 0), (0, 0, 270))):
            Circle(SKETCH_1_R_2, mode=Mode.SUBTRACT)
        with Locations(Location((40, 60, 0), (0, 0, 270))):
            Circle(SKETCH_1_R_2, mode=Mode.SUBTRACT)
        with Locations(Location((60, 40, 0), (0, 0, 270))):
            Circle(SKETCH_1_R_2, mode=Mode.SUBTRACT)
        with Locations(Location((60, 60, 0), (0, 0, 270))):
            Circle(SKETCH_1_R_2, mode=Mode.SUBTRACT)
        with Locations(Location((20, 80, 0), (0, 0, 270))):
            Circle(SKETCH_1_R_2, mode=Mode.SUBTRACT)
        with Locations(Location((20, 100, 0), (0, 0, 270))):
            Circle(SKETCH_1_R_2, mode=Mode.SUBTRACT)
        with Locations(Location((40, 80, 0), (0, 0, 270))):
            Circle(SKETCH_1_R_2, mode=Mode.SUBTRACT)
        with Locations(Location((40, 100, 0), (0, 0, 270))):
            Circle(SKETCH_1_R_2, mode=Mode.SUBTRACT)
        with Locations(Location((60, 80, 0), (0, 0, 270))):
            Circle(SKETCH_1_R_2, mode=Mode.SUBTRACT)
        with Locations(Location((60, 100, 0), (0, 0, 270))):
            Circle(SKETCH_1_R_2, mode=Mode.SUBTRACT)
        with Locations(Location((35, 150, 0), (0, 0, 270))):
            Circle(SKETCH_1_R_3, mode=Mode.SUBTRACT)
        with Locations(Location((48, 132, 0), (0, 0, 270))):
            Circle(SKETCH_1_R, mode=Mode.SUBTRACT)
        with Locations(Location((60, 120, 0), (0, 0, 270))):
            Circle(SKETCH_1_R_2, mode=Mode.SUBTRACT)
        with Locations(Location((62, 132, 0), (0, 0, 270))):
            Circle(SKETCH_1_R, mode=Mode.SUBTRACT)
        with Locations(Location((48, 148, 0), (0, 0, 270))):
            Circle(SKETCH_1_R, mode=Mode.SUBTRACT)
        with Locations(Location((62, 148, 0), (0, 0, 270))):
            Circle(SKETCH_1_R, mode=Mode.SUBTRACT)
    extrude(amount=EXTRUDE_2_DEPTH)


solid = part.part
